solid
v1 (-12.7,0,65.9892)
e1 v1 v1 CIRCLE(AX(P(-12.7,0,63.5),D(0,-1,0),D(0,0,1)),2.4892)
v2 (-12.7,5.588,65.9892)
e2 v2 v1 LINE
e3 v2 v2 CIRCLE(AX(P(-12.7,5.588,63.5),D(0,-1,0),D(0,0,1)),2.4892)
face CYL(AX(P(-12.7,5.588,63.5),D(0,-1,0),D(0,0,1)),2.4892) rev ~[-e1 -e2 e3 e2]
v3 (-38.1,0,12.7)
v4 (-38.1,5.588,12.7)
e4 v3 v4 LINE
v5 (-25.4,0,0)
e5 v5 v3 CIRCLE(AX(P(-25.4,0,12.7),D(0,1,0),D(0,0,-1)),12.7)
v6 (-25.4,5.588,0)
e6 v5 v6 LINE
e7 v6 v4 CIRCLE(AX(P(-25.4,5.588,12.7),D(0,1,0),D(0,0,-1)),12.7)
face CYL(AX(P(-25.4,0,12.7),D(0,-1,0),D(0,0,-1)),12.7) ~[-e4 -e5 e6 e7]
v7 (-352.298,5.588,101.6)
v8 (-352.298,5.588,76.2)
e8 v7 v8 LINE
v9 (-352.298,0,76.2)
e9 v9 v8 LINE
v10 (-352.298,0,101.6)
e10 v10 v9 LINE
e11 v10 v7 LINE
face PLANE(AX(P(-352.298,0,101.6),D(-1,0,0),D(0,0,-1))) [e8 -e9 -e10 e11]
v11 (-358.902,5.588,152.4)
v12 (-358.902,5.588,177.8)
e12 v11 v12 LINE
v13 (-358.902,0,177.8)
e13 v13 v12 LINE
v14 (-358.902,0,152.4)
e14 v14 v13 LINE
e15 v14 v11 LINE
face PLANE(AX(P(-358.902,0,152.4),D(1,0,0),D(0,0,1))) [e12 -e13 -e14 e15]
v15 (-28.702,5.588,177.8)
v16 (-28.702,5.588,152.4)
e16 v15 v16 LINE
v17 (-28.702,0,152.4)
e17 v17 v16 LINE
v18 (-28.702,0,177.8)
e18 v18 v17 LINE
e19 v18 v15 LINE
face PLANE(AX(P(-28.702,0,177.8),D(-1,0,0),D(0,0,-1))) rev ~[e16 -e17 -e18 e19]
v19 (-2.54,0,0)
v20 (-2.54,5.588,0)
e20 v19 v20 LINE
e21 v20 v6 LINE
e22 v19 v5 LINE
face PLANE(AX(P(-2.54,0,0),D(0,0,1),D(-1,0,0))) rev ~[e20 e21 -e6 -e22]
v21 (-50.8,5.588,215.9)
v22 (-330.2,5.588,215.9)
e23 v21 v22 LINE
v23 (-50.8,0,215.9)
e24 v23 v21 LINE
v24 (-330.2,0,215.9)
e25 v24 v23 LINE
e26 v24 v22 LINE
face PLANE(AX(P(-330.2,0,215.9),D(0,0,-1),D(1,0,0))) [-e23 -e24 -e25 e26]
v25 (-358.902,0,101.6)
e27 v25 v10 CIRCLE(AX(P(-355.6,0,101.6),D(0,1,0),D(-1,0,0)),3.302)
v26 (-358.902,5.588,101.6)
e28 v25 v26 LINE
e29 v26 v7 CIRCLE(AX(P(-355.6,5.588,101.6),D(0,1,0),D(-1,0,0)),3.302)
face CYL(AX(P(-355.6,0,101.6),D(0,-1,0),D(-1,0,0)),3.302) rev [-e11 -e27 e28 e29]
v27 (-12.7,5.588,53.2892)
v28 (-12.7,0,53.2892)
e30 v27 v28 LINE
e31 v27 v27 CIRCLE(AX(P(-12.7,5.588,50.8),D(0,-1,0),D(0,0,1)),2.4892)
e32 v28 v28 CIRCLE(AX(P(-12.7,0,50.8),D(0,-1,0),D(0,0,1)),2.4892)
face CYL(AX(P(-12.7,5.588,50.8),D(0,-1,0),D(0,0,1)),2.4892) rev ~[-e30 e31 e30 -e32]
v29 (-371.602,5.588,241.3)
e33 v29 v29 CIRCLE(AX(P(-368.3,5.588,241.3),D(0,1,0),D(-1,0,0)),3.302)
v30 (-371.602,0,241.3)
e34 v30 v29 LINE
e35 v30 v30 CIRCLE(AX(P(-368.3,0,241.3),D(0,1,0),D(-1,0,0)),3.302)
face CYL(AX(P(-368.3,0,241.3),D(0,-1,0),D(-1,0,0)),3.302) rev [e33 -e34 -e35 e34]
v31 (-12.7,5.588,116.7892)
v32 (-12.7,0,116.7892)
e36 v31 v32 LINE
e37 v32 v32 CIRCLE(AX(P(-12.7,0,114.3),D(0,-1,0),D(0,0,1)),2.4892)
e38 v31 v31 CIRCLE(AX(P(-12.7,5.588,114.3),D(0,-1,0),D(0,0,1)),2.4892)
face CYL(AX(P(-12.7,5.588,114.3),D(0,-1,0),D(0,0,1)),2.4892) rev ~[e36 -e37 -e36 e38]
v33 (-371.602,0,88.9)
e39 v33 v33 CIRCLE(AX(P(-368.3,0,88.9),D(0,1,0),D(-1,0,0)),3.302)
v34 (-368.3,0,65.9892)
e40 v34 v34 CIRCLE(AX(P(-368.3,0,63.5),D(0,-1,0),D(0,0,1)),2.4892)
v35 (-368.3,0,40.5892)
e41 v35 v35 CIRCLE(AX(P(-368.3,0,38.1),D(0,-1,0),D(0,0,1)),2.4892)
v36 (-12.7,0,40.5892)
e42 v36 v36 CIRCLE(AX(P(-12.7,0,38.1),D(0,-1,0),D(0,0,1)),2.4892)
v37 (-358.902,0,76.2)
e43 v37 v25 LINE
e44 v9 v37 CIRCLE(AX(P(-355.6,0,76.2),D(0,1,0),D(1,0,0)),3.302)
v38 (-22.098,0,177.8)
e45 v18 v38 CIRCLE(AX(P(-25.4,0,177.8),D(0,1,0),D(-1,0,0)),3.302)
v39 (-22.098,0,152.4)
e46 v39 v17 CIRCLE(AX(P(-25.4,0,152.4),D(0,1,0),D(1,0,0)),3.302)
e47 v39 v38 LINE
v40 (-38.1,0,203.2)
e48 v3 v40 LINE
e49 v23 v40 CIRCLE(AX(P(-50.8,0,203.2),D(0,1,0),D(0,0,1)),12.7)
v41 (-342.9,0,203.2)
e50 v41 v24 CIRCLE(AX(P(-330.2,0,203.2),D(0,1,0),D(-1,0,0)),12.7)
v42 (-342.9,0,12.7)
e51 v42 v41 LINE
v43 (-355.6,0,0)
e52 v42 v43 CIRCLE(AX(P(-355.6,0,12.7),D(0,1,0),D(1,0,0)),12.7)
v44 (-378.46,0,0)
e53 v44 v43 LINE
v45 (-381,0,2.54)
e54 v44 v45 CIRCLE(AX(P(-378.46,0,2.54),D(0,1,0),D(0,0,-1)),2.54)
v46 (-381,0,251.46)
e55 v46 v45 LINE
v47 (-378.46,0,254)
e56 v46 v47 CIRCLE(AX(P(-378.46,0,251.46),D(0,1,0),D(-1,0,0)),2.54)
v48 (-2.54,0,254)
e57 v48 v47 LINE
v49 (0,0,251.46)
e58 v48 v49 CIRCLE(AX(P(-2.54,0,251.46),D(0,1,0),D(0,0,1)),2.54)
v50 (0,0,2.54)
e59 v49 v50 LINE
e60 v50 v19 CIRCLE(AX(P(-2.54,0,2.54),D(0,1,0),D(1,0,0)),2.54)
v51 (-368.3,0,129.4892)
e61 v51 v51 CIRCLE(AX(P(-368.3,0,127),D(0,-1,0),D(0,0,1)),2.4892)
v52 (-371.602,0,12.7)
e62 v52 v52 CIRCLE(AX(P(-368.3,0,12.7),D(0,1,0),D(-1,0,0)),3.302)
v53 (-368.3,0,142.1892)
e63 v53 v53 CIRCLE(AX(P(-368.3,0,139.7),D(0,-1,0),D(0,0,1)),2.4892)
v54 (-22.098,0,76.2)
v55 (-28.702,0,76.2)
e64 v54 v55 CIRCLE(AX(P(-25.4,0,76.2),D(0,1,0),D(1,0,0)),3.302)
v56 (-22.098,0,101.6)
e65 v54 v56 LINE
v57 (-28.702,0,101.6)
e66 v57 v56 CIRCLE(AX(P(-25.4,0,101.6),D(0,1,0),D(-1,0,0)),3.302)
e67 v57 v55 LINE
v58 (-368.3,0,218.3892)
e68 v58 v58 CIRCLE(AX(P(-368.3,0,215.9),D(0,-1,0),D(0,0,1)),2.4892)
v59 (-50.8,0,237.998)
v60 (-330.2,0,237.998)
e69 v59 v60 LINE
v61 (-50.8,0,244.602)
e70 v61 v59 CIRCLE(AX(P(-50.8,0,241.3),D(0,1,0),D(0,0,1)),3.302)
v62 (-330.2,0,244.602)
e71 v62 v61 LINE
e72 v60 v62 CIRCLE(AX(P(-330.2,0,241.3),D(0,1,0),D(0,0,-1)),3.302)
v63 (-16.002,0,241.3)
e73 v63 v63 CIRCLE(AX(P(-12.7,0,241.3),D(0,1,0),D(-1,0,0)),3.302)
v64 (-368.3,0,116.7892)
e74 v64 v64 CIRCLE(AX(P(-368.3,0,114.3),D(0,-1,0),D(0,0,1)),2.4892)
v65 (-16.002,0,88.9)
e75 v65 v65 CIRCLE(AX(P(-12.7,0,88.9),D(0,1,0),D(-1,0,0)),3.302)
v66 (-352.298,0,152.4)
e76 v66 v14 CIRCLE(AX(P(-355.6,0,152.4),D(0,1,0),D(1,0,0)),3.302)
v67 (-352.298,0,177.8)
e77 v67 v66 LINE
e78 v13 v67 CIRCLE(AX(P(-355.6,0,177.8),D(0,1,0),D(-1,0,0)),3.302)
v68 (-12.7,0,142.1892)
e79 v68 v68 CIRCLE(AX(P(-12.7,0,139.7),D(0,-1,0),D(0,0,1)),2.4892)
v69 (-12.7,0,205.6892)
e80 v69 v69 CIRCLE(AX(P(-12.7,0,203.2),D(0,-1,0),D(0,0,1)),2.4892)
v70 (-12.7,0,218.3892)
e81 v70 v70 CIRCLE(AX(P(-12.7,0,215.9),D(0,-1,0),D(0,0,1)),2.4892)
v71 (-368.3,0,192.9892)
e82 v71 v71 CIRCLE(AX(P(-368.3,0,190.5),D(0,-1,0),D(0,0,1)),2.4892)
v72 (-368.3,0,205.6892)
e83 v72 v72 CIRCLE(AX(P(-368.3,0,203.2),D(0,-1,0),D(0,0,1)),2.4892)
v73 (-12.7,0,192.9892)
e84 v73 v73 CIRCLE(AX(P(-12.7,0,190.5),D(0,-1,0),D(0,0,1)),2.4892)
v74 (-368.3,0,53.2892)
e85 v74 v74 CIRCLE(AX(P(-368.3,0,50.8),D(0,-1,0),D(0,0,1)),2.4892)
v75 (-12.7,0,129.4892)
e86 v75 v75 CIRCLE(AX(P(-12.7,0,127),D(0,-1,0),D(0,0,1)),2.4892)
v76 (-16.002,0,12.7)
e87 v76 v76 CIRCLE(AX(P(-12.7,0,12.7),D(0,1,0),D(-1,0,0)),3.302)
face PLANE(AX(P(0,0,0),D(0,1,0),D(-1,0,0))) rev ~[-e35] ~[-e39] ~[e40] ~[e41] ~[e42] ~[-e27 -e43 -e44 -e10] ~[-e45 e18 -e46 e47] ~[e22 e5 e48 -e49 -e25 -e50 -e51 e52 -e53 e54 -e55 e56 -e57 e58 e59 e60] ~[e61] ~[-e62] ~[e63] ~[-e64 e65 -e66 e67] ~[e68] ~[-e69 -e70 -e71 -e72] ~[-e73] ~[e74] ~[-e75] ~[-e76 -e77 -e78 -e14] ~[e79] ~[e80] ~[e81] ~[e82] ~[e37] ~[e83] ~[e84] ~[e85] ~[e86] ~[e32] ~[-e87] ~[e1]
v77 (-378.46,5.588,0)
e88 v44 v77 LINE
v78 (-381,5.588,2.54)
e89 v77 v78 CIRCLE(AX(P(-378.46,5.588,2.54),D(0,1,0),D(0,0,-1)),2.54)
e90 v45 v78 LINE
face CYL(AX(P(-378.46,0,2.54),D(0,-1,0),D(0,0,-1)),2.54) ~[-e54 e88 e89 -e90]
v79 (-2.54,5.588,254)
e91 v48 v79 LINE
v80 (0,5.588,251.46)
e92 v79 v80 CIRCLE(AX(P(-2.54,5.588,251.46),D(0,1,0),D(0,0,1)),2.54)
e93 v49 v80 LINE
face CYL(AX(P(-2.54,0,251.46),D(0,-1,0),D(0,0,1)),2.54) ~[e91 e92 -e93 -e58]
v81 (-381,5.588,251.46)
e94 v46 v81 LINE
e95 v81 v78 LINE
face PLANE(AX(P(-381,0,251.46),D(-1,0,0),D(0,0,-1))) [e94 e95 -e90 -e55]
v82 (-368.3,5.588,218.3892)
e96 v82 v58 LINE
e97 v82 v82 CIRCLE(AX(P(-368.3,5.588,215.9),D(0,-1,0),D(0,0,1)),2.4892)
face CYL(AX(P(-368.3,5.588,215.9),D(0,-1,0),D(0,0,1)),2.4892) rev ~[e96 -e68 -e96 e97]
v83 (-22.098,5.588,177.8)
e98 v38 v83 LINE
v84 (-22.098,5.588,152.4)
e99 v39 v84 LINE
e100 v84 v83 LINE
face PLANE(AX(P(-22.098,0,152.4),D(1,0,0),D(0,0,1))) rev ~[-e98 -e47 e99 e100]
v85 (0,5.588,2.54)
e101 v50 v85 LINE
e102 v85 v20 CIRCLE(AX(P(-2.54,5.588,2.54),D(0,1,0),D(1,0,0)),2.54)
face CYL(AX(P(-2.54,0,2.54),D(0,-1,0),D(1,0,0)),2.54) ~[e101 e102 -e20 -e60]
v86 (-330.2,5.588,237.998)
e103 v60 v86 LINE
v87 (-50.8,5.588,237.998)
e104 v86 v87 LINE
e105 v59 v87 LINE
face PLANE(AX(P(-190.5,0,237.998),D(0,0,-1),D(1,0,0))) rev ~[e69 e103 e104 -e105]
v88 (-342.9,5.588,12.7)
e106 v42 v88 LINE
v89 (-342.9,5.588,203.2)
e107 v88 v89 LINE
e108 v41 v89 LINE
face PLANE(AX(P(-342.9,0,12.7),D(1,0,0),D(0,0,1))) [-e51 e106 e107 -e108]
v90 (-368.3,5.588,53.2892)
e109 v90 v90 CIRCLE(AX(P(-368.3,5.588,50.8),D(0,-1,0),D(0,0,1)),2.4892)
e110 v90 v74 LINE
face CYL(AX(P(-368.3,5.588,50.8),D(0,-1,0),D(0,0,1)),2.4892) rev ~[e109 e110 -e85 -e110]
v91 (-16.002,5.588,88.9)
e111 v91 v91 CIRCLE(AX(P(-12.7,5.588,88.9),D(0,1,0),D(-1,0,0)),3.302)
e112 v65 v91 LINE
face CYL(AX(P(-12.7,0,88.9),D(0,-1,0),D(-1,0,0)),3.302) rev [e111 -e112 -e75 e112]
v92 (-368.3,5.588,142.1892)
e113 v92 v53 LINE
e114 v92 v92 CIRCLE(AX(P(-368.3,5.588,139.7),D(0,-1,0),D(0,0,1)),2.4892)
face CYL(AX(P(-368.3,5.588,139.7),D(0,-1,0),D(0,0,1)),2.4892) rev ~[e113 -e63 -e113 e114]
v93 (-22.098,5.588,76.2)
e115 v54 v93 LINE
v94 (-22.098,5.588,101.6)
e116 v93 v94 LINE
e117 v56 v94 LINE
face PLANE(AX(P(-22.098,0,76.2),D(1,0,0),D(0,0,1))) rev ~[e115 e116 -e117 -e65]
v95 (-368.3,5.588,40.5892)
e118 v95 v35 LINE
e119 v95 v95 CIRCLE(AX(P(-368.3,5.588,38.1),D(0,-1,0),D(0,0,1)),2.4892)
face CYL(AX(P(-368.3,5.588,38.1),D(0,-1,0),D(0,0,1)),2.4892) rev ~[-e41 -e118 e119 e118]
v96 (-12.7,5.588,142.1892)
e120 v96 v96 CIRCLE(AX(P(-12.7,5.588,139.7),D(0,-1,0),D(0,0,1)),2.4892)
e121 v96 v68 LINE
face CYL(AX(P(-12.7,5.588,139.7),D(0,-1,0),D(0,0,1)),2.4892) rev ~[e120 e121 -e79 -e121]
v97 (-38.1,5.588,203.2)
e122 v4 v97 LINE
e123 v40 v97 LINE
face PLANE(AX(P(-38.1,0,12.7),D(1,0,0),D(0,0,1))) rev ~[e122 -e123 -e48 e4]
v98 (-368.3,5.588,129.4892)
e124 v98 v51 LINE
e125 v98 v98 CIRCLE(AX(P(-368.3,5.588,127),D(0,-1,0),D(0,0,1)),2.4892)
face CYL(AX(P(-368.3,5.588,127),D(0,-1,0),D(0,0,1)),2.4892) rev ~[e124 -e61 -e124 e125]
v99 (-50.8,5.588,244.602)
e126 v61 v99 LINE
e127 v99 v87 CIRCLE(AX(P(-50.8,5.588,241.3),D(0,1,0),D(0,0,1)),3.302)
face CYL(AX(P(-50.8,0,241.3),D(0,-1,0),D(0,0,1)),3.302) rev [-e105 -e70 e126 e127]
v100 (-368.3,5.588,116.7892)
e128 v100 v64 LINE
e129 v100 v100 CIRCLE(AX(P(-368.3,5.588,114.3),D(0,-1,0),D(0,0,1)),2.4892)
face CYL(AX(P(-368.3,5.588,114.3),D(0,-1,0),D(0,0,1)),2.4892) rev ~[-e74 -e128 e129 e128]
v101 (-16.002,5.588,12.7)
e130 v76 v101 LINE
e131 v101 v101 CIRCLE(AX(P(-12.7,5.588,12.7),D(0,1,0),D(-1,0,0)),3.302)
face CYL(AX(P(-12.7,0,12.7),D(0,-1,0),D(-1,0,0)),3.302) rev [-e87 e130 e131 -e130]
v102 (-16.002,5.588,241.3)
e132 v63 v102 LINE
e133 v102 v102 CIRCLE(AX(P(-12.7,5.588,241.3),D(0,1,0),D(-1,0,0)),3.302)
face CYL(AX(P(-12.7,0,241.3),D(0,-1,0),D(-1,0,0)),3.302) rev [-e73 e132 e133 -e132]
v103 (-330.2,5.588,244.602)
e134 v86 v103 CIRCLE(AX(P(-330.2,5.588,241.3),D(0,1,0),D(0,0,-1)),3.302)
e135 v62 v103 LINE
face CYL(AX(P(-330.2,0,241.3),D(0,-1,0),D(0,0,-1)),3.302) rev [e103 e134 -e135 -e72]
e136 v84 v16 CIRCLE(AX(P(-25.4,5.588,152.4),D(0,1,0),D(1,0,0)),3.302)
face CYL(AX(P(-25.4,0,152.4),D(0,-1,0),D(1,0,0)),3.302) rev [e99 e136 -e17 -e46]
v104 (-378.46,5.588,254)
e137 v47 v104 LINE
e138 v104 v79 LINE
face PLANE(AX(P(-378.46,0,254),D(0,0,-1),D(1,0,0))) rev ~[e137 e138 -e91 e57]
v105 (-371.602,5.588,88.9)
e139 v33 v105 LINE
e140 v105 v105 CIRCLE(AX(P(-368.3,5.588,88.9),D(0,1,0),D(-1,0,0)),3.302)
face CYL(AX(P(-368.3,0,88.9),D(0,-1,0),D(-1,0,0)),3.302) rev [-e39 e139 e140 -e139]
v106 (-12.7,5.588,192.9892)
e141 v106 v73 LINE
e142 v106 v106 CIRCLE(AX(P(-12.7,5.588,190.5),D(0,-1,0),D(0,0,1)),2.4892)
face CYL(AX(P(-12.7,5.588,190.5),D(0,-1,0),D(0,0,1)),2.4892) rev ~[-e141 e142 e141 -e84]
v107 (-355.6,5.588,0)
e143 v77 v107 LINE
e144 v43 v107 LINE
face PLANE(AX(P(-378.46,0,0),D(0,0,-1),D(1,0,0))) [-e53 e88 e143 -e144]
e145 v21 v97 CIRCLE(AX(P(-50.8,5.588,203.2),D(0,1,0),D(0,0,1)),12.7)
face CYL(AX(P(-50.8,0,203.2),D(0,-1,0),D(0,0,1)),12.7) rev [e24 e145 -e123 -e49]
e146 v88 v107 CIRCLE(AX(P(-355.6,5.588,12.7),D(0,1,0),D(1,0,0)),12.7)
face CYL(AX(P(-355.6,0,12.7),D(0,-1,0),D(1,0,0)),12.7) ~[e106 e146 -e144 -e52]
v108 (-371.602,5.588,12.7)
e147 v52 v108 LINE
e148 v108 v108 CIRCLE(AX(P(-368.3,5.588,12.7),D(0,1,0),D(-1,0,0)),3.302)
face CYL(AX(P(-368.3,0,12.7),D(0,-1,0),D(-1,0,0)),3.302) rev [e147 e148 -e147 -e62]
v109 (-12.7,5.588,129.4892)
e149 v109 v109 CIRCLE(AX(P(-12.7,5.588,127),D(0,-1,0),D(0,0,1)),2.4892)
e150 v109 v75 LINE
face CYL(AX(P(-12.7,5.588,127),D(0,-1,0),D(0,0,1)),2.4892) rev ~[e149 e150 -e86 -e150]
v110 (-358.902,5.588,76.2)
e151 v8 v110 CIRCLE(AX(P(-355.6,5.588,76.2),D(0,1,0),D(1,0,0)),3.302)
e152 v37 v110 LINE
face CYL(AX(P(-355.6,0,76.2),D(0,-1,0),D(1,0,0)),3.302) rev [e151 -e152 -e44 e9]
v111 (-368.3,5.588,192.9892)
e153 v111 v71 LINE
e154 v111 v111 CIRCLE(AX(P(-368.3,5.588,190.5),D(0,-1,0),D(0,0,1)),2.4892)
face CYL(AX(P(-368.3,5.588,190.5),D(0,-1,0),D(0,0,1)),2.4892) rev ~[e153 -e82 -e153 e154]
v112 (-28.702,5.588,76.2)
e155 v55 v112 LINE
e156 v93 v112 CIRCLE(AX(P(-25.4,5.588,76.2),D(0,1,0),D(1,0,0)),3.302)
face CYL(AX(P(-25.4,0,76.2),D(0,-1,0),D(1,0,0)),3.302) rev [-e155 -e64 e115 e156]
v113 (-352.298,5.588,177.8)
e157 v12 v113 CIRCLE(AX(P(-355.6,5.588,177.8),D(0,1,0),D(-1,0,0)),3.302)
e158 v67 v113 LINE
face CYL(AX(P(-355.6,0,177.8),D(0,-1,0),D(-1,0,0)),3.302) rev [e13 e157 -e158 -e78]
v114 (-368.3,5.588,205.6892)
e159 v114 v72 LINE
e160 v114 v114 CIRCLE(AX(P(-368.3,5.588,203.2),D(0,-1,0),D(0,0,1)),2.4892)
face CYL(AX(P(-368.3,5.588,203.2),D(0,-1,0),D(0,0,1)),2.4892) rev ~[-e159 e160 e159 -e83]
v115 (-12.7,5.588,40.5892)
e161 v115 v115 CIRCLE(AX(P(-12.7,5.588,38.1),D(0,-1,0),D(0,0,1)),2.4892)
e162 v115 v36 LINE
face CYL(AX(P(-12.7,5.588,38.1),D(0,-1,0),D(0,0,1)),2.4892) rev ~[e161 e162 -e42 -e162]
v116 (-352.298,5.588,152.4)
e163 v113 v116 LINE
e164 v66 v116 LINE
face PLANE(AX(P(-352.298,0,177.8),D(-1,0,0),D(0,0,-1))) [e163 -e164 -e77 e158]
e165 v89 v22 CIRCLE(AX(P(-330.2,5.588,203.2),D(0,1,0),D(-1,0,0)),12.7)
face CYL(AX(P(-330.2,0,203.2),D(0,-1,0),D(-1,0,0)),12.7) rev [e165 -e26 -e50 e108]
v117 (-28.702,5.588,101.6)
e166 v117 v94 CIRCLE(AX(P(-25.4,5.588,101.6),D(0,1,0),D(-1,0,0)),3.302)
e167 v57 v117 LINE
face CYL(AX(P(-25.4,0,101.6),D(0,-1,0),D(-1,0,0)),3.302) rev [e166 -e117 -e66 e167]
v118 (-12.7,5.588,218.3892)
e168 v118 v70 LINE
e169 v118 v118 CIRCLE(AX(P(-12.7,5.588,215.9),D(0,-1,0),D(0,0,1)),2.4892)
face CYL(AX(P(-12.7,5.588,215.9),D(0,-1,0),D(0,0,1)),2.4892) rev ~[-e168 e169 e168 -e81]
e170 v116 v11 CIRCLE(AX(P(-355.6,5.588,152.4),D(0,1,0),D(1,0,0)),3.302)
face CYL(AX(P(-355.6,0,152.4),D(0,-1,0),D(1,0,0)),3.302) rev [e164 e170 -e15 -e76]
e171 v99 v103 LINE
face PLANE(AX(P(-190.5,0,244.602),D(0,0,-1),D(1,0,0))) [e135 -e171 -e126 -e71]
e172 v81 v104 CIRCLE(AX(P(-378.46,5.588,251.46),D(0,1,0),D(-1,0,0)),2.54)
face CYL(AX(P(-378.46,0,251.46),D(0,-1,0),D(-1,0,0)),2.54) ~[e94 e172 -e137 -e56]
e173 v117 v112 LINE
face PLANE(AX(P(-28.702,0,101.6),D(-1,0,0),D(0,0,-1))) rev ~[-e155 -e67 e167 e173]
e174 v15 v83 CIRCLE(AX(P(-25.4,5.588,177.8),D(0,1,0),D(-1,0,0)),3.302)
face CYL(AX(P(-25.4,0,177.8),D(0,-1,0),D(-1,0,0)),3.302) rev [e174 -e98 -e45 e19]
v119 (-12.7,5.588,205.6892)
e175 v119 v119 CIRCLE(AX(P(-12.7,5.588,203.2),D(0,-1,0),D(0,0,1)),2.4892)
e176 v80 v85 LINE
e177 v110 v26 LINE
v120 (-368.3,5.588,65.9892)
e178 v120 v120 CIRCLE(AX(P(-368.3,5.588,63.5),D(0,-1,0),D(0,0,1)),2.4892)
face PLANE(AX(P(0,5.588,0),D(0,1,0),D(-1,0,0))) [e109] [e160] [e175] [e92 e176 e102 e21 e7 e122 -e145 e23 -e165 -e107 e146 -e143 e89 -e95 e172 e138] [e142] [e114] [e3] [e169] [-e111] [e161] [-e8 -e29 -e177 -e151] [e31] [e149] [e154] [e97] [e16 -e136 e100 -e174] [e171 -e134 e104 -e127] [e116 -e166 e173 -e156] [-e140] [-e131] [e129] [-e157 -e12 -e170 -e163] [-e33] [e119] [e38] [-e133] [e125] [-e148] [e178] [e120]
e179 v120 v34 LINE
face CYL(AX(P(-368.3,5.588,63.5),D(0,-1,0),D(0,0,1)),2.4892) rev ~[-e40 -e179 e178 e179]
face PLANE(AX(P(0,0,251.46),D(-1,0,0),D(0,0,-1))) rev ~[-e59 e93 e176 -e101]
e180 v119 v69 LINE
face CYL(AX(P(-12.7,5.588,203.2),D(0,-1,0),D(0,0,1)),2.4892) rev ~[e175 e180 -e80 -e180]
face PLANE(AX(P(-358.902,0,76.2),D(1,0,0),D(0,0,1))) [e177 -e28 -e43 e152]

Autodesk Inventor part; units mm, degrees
ref_plane "YZ Plane" through (0, 0, 0) normal (1, 0, 0) x (0, 1, 0)
ref_plane "XZ Plane" through (0, 0, 0) normal (0, 1, 0) x (-1, 0, 0)
ref_plane "XY Plane" through (0, 0, 0) normal (0, 0, 1) x (1, 0, 0)
sketch "Sketch1" plane through (0, 0, 0) normal (0, 1, 0) x (-1, 0, 0)
  circle A0 centre (368.3, 203.2) radius 2.54 construction
  circle A1 centre (368.3, 241.3) radius 3.302
  circle A2 centre (368.3, 127) radius 2.54 construction
  circle A3 centre (368.3, 88.9) radius 3.302
  circle A4 centre (368.3, 50.8) radius 2.54 construction
  circle A5 centre (368.3, 12.7) radius 3.302
  line L0 (190.5, 244.602) -> (330.2, 244.602)
  line L1 (330.2, 244.602) -> (190.5, 244.602)
  arc A6 (330.2, 237.998) -> (330.2, 244.602) centre (330.2, 241.3) ccw
  line L2 (190.5, 237.998) -> (330.2, 237.998)
  line L3 (381, 251.46) -> (381, 2.54)
  line L4 (378.46, 0) -> (355.6, 0)
  line L5 (355.6, 0) -> (355.6, 0)
  circle A7 centre (368.3, 38.1) radius 2.54 construction
  circle A8 centre (368.3, 63.5) radius 2.54 construction
  circle A9 centre (368.3, 127) radius 2.54 construction
  circle A10 centre (368.3, 114.3) radius 2.54 construction
  circle A11 centre (368.3, 139.7) radius 2.54 construction
  circle A12 centre (368.3, 203.2) radius 2.54 construction
  circle A13 centre (368.3, 190.5) radius 2.54 construction
  circle A14 centre (368.3, 215.9) radius 2.54 construction
  line L6 (355.6, 0) -> (355.6, 25.4) construction
  line L7 (355.6, 25.4) -> (381, 25.4) construction
  line L8 (368.3, 88.9) -> (355.6, 88.9) construction
  arc A15 (352.298, 76.2) -> (358.902, 76.2) centre (355.6, 76.2) ccw
  arc A16 (358.902, 101.6) -> (352.298, 101.6) centre (355.6, 101.6) ccw
  line L9 (358.902, 76.2) -> (358.902, 101.6)
  line L10 (352.298, 101.6) -> (352.298, 76.2)
  line L11 (368.3, 139.7) -> (368.3, 165.1) construction
  line L12 (368.3, 165.1) -> (355.6, 165.1) construction
  arc A17 (352.298, 152.4) -> (358.902, 152.4) centre (355.6, 152.4) ccw
  arc A18 (358.902, 177.8) -> (352.298, 177.8) centre (355.6, 177.8) ccw
  line L13 (358.902, 152.4) -> (358.902, 177.8)
  line L14 (352.298, 177.8) -> (352.298, 152.4)
  arc A19 (342.9, 12.7) -> (355.6, 0) centre (355.6, 12.7) ccw
  line L15 (378.46, 254) -> (190.5, 254)
  arc A20 (378.46, 0) -> (381, 2.54) centre (378.46, 2.54) ccw
  arc A21 (381, 251.46) -> (378.46, 254) centre (378.46, 251.46) ccw
  line L16 (190.5, 228.6) -> (190.5, 159.7209) construction
  line L17 (330.2, 215.9) -> (190.5, 215.9)
  line L18 (342.9, 12.7) -> (342.9, 203.2)
  arc A22 (342.9, 203.2) -> (330.2, 215.9) centre (330.2, 203.2) ccw
  circle A23 centre (12.7, 203.2) radius 2.54 construction
  circle A24 centre (12.7, 241.3) radius 3.302
  circle A25 centre (12.7, 127) radius 2.54 construction
  circle A26 centre (12.7, 88.9) radius 3.302
  circle A27 centre (12.7, 50.8) radius 2.54 construction
  circle A28 centre (12.7, 12.7) radius 3.302
  line L19 (190.5, 244.602) -> (50.8, 244.602)
  line L20 (50.8, 244.602) -> (190.5, 244.602)
  arc A29 (50.8, 244.602) -> (50.8, 237.998) centre (50.8, 241.3) ccw
  line L21 (190.5, 237.998) -> (50.8, 237.998)
  line L22 (0, 251.46) -> (0, 2.54)
  line L23 (2.54, 0) -> (25.4, 0)
  line L24 (25.4, 0) -> (25.4, 0)
  circle A30 centre (12.7, 38.1) radius 2.54 construction
  circle A31 centre (12.7, 63.5) radius 2.54 construction
  circle A32 centre (12.7, 139.7) radius 2.54 construction
  circle A33 centre (12.7, 127) radius 2.54 construction
  circle A34 centre (12.7, 114.3) radius 2.54 construction
  circle A35 centre (12.7, 215.9) radius 2.54 construction
  circle A36 centre (12.7, 203.2) radius 2.54 construction
  circle A37 centre (12.7, 190.5) radius 2.54 construction
  line L25 (25.4, 0) -> (25.4, 25.4) construction
  line L26 (25.4, 25.4) -> (0, 25.4) construction
  line L27 (12.7, 88.9) -> (25.4, 88.9) construction
  arc A38 (22.098, 76.2) -> (28.702, 76.2) centre (25.4, 76.2) ccw
  arc A39 (28.702, 101.6) -> (22.098, 101.6) centre (25.4, 101.6) ccw
  line L28 (22.098, 76.2) -> (22.098, 101.6)
  line L29 (28.702, 101.6) -> (28.702, 76.2)
  line L30 (12.7, 139.7) -> (12.7, 165.1) construction
  line L31 (12.7, 165.1) -> (25.4, 165.1) construction
  line L32 (22.098, 152.4) -> (22.098, 177.8)
  arc A40 (22.098, 152.4) -> (28.702, 152.4) centre (25.4, 152.4) ccw
  line L33 (28.702, 177.8) -> (28.702, 152.4)
  arc A41 (28.702, 177.8) -> (22.098, 177.8) centre (25.4, 177.8) ccw
  arc A42 (25.4, 0) -> (38.1, 12.7) centre (25.4, 12.7) ccw
  line L34 (2.54, 254) -> (190.5, 254)
  arc A43 (0, 2.54) -> (2.54, 0) centre (2.54, 2.54) ccw
  arc A44 (2.54, 254) -> (0, 251.46) centre (2.54, 251.46) ccw
  line L35 (50.8, 215.9) -> (190.5, 215.9)
  line L36 (38.1, 12.7) -> (38.1, 203.2)
  arc A45 (50.8, 215.9) -> (38.1, 203.2) centre (50.8, 203.2) ccw
  point P0 (381, 254)
  point P1 (381, 0)
  point P2 (342.9, 0)
  point P3 (342.9, 228.6)
  point P4 (0, 254)
  point P5 (0, 0)
  point P6 (38.1, 0)
  point P7 (38.1, 228.6)
  dimension "d2" = 12.7
  dimension "d3" = 228.6
  dimension "d6" = 25.4
  dimension "d7" = 25.4
  dimension "d8" = 12.7
  dimension "d10" = 25.4
  dimension "d12" = 12.7
  dimension "d17" = 12.7
ref_plane "Work Plane1" through (0, 6.35, 0) normal (0, 1, 0) x (1, 0, 0)
extrude "Extrusion4" add sketch "Sketch1" along normal blind 5.588
sketch "Sketch3" plane through (0, 5.588, 0) normal (0, 1, 0) x (1, 0, 0)
  arc A0 (-330.2, -237.998) -> (-330.2, -244.602) centre (-330.2, -241.3) ccw projected
  line L0 (-330.2, -237.998) -> (-50.8, -237.998) projected
  arc A1 (-50.8, -244.602) -> (-50.8, -237.998) centre (-50.8, -241.3) ccw projected
  line L1 (-50.8, -244.602) -> (-330.2, -244.602) projected
  line L2 (-22.098, -76.2) -> (-22.098, -101.6) projected
  arc A2 (-28.702, -101.6) -> (-22.098, -101.6) centre (-25.4, -101.6) ccw projected
  line L3 (-28.702, -101.6) -> (-28.702, -76.2) projected
  arc A3 (-22.098, -76.2) -> (-28.702, -76.2) centre (-25.4, -76.2) ccw projected
  line L4 (-28.702, -177.8) -> (-28.702, -152.4) projected
  arc A4 (-22.098, -152.4) -> (-28.702, -152.4) centre (-25.4, -152.4) ccw projected
  line L5 (-22.098, -152.4) -> (-22.098, -177.8) projected
  arc A5 (-28.702, -177.8) -> (-22.098, -177.8) centre (-25.4, -177.8) ccw projected
  line L6 (-352.298, -152.4) -> (-352.298, -177.8) projected
  arc A6 (-358.902, -177.8) -> (-352.298, -177.8) centre (-355.6, -177.8) ccw projected
  line L7 (-358.902, -177.8) -> (-358.902, -152.4) projected
  arc A7 (-352.298, -152.4) -> (-358.902, -152.4) centre (-355.6, -152.4) ccw projected
  line L8 (-358.902, -101.6) -> (-358.902, -76.2) projected
  arc A8 (-352.298, -76.2) -> (-358.902, -76.2) centre (-355.6, -76.2) ccw projected
  line L9 (-352.298, -76.2) -> (-352.298, -101.6) projected
  arc A9 (-358.902, -101.6) -> (-352.298, -101.6) centre (-355.6, -101.6) ccw projected
  circle A10 centre (-12.7, -88.9) radius 3.302 projected
  circle A11 centre (-12.7, -12.7) radius 3.302 projected
  circle A12 centre (-12.7, -241.3) radius 3.302 projected
  circle A13 centre (-368.3, -12.7) radius 3.302 projected
  circle A14 centre (-368.3, -88.9) radius 3.302 projected
  circle A15 centre (-368.3, -241.3) radius 3.302 projected
  line L10 (-355.6, 0) -> (-378.46, 0) projected
  arc A16 (-378.46, 0) -> (-381, -2.54) centre (-378.46, -2.54) ccw projected
  line L11 (-381, -2.54) -> (-381, -251.46) projected
  arc A17 (-381, -251.46) -> (-378.46, -254) centre (-378.46, -251.46) ccw projected
  line L12 (-378.46, -254) -> (-2.54, -254) projected
  arc A18 (-2.54, -254) -> (0, -251.46) centre (-2.54, -251.46) ccw projected
  line L13 (0, -251.46) -> (0, -2.54) projected
  arc A19 (0, -2.54) -> (-2.54, 0) centre (-2.54, -2.54) ccw projected
  line L14 (-2.54, 0) -> (-25.4, 0) projected
  arc A20 (-25.4, 0) -> (-38.1, -12.7) centre (-25.4, -12.7) ccw projected
  line L15 (-38.1, -12.7) -> (-38.1, -203.2) projected
  arc A21 (-50.8, -215.9) -> (-38.1, -203.2) centre (-50.8, -203.2) ccw projected
  line L16 (-50.8, -215.9) -> (-330.2, -215.9) projected
  arc A22 (-342.9, -203.2) -> (-330.2, -215.9) centre (-330.2, -203.2) ccw projected
  line L17 (-342.9, -203.2) -> (-342.9, -12.7) projected
  arc A23 (-342.9, -12.7) -> (-355.6, 0) centre (-355.6, -12.7) ccw projected
  circle A24 centre (-368.3, -12.7) radius 3.302 projected
  line L18 (-368.3, -12.7) -> (-368.3, -38.1) construction
  line L19 (-368.3, -38.1) -> (-368.3, -50.8) construction
  line L20 (-368.3, -50.8) -> (-368.3, -63.5) construction
  line L21 (-368.3, -88.9) -> (-368.3, -114.3) construction
  line L22 (-368.3, -114.3) -> (-368.3, -127) construction
  line L23 (-368.3, -127) -> (-368.3, -139.7) construction
  line L24 (-368.3, -139.7) -> (-368.3, -165.1) construction
  line L25 (-368.3, -165.1) -> (-368.3, -190.5) construction
  line L26 (-368.3, -190.5) -> (-368.3, -203.2) construction
  line L27 (-368.3, -203.2) -> (-368.3, -215.9) construction
  line L28 (-368.3, -215.9) -> (-368.3, -241.3) construction
  line L29 (-12.7, -12.7) -> (-12.7, -38.1) construction
  line L30 (-12.7, -38.1) -> (-12.7, -50.8) construction
  line L31 (-12.7, -50.8) -> (-12.7, -63.5) construction
  line L32 (-12.7, -88.9) -> (-12.7, -114.3) construction
  line L33 (-12.7, -114.3) -> (-12.7, -127) construction
  line L34 (-12.7, -127) -> (-12.7, -139.7) construction
  line L35 (-12.7, -139.7) -> (-12.7, -165.1) construction
  line L36 (-12.7, -165.1) -> (-12.7, -190.5) construction
  line L37 (-12.7, -190.5) -> (-12.7, -203.2) construction
  line L38 (-12.7, -203.2) -> (-12.7, -215.9) construction
  line L39 (-12.7, -215.9) -> (-12.7, -241.3) construction
  point P0 (0, 0)
  dimension "d22" = 25.4
  dimension "d23" = 12.7
  dimension "d24" = 12.7
  dimension "d25" = 25.4
  dimension "d26" = 12.7
  dimension "d27" = 12.7
  dimension "d28" = 25.4
  dimension "d29" = 25.4
  dimension "d30" = 12.7
  dimension "d31" = 12.7
  dimension "d32" = 25.4
  dimension "d40" = 25.4
  dimension "d41" = 12.7
  dimension "d42" = 12.7
  dimension "d43" = 25.4
  dimension "d44" = 12.7
  dimension "d45" = 12.7
  dimension "d46" = 25.4
  dimension "d47" = 25.4
  dimension "d48" = 12.7
  dimension "d49" = 12.7
  dimension "d50" = 25.4
hole "Hole2" at (-368.3, 5.588, 38.1) at (-368.3, 5.588, 50.8) at (-368.3, 5.588, 63.5) at (-368.3, 5.588, 139.7) at (-368.3, 5.588, 127) at (-368.3, 5.588, 114.3) at (-368.3, 5.588, 215.9) at (-368.3, 5.588, 190.5) at (-368.3, 5.588, 203.2) at (-12.7, 5.588, 139.7) at (-12.7, 5.588, 215.9) at (-12.7, 5.588, 203.2) at (-12.7, 5.588, 190.5) at (-12.7, 5.588, 114.3) at (-12.7, 5.588, 127) at (-12.7, 5.588, 63.5) at (-12.7, 5.588, 50.8) at (-12.7, 5.588, 38.1) direction (0, -1, 0) diameter 4.9784 depth 13.97 tip angle 118 thread size "1/4-20 UNC" class "2B" standard "ANSI Unified Screw Threads"
properties part number "vrRig_v08p1_base"
